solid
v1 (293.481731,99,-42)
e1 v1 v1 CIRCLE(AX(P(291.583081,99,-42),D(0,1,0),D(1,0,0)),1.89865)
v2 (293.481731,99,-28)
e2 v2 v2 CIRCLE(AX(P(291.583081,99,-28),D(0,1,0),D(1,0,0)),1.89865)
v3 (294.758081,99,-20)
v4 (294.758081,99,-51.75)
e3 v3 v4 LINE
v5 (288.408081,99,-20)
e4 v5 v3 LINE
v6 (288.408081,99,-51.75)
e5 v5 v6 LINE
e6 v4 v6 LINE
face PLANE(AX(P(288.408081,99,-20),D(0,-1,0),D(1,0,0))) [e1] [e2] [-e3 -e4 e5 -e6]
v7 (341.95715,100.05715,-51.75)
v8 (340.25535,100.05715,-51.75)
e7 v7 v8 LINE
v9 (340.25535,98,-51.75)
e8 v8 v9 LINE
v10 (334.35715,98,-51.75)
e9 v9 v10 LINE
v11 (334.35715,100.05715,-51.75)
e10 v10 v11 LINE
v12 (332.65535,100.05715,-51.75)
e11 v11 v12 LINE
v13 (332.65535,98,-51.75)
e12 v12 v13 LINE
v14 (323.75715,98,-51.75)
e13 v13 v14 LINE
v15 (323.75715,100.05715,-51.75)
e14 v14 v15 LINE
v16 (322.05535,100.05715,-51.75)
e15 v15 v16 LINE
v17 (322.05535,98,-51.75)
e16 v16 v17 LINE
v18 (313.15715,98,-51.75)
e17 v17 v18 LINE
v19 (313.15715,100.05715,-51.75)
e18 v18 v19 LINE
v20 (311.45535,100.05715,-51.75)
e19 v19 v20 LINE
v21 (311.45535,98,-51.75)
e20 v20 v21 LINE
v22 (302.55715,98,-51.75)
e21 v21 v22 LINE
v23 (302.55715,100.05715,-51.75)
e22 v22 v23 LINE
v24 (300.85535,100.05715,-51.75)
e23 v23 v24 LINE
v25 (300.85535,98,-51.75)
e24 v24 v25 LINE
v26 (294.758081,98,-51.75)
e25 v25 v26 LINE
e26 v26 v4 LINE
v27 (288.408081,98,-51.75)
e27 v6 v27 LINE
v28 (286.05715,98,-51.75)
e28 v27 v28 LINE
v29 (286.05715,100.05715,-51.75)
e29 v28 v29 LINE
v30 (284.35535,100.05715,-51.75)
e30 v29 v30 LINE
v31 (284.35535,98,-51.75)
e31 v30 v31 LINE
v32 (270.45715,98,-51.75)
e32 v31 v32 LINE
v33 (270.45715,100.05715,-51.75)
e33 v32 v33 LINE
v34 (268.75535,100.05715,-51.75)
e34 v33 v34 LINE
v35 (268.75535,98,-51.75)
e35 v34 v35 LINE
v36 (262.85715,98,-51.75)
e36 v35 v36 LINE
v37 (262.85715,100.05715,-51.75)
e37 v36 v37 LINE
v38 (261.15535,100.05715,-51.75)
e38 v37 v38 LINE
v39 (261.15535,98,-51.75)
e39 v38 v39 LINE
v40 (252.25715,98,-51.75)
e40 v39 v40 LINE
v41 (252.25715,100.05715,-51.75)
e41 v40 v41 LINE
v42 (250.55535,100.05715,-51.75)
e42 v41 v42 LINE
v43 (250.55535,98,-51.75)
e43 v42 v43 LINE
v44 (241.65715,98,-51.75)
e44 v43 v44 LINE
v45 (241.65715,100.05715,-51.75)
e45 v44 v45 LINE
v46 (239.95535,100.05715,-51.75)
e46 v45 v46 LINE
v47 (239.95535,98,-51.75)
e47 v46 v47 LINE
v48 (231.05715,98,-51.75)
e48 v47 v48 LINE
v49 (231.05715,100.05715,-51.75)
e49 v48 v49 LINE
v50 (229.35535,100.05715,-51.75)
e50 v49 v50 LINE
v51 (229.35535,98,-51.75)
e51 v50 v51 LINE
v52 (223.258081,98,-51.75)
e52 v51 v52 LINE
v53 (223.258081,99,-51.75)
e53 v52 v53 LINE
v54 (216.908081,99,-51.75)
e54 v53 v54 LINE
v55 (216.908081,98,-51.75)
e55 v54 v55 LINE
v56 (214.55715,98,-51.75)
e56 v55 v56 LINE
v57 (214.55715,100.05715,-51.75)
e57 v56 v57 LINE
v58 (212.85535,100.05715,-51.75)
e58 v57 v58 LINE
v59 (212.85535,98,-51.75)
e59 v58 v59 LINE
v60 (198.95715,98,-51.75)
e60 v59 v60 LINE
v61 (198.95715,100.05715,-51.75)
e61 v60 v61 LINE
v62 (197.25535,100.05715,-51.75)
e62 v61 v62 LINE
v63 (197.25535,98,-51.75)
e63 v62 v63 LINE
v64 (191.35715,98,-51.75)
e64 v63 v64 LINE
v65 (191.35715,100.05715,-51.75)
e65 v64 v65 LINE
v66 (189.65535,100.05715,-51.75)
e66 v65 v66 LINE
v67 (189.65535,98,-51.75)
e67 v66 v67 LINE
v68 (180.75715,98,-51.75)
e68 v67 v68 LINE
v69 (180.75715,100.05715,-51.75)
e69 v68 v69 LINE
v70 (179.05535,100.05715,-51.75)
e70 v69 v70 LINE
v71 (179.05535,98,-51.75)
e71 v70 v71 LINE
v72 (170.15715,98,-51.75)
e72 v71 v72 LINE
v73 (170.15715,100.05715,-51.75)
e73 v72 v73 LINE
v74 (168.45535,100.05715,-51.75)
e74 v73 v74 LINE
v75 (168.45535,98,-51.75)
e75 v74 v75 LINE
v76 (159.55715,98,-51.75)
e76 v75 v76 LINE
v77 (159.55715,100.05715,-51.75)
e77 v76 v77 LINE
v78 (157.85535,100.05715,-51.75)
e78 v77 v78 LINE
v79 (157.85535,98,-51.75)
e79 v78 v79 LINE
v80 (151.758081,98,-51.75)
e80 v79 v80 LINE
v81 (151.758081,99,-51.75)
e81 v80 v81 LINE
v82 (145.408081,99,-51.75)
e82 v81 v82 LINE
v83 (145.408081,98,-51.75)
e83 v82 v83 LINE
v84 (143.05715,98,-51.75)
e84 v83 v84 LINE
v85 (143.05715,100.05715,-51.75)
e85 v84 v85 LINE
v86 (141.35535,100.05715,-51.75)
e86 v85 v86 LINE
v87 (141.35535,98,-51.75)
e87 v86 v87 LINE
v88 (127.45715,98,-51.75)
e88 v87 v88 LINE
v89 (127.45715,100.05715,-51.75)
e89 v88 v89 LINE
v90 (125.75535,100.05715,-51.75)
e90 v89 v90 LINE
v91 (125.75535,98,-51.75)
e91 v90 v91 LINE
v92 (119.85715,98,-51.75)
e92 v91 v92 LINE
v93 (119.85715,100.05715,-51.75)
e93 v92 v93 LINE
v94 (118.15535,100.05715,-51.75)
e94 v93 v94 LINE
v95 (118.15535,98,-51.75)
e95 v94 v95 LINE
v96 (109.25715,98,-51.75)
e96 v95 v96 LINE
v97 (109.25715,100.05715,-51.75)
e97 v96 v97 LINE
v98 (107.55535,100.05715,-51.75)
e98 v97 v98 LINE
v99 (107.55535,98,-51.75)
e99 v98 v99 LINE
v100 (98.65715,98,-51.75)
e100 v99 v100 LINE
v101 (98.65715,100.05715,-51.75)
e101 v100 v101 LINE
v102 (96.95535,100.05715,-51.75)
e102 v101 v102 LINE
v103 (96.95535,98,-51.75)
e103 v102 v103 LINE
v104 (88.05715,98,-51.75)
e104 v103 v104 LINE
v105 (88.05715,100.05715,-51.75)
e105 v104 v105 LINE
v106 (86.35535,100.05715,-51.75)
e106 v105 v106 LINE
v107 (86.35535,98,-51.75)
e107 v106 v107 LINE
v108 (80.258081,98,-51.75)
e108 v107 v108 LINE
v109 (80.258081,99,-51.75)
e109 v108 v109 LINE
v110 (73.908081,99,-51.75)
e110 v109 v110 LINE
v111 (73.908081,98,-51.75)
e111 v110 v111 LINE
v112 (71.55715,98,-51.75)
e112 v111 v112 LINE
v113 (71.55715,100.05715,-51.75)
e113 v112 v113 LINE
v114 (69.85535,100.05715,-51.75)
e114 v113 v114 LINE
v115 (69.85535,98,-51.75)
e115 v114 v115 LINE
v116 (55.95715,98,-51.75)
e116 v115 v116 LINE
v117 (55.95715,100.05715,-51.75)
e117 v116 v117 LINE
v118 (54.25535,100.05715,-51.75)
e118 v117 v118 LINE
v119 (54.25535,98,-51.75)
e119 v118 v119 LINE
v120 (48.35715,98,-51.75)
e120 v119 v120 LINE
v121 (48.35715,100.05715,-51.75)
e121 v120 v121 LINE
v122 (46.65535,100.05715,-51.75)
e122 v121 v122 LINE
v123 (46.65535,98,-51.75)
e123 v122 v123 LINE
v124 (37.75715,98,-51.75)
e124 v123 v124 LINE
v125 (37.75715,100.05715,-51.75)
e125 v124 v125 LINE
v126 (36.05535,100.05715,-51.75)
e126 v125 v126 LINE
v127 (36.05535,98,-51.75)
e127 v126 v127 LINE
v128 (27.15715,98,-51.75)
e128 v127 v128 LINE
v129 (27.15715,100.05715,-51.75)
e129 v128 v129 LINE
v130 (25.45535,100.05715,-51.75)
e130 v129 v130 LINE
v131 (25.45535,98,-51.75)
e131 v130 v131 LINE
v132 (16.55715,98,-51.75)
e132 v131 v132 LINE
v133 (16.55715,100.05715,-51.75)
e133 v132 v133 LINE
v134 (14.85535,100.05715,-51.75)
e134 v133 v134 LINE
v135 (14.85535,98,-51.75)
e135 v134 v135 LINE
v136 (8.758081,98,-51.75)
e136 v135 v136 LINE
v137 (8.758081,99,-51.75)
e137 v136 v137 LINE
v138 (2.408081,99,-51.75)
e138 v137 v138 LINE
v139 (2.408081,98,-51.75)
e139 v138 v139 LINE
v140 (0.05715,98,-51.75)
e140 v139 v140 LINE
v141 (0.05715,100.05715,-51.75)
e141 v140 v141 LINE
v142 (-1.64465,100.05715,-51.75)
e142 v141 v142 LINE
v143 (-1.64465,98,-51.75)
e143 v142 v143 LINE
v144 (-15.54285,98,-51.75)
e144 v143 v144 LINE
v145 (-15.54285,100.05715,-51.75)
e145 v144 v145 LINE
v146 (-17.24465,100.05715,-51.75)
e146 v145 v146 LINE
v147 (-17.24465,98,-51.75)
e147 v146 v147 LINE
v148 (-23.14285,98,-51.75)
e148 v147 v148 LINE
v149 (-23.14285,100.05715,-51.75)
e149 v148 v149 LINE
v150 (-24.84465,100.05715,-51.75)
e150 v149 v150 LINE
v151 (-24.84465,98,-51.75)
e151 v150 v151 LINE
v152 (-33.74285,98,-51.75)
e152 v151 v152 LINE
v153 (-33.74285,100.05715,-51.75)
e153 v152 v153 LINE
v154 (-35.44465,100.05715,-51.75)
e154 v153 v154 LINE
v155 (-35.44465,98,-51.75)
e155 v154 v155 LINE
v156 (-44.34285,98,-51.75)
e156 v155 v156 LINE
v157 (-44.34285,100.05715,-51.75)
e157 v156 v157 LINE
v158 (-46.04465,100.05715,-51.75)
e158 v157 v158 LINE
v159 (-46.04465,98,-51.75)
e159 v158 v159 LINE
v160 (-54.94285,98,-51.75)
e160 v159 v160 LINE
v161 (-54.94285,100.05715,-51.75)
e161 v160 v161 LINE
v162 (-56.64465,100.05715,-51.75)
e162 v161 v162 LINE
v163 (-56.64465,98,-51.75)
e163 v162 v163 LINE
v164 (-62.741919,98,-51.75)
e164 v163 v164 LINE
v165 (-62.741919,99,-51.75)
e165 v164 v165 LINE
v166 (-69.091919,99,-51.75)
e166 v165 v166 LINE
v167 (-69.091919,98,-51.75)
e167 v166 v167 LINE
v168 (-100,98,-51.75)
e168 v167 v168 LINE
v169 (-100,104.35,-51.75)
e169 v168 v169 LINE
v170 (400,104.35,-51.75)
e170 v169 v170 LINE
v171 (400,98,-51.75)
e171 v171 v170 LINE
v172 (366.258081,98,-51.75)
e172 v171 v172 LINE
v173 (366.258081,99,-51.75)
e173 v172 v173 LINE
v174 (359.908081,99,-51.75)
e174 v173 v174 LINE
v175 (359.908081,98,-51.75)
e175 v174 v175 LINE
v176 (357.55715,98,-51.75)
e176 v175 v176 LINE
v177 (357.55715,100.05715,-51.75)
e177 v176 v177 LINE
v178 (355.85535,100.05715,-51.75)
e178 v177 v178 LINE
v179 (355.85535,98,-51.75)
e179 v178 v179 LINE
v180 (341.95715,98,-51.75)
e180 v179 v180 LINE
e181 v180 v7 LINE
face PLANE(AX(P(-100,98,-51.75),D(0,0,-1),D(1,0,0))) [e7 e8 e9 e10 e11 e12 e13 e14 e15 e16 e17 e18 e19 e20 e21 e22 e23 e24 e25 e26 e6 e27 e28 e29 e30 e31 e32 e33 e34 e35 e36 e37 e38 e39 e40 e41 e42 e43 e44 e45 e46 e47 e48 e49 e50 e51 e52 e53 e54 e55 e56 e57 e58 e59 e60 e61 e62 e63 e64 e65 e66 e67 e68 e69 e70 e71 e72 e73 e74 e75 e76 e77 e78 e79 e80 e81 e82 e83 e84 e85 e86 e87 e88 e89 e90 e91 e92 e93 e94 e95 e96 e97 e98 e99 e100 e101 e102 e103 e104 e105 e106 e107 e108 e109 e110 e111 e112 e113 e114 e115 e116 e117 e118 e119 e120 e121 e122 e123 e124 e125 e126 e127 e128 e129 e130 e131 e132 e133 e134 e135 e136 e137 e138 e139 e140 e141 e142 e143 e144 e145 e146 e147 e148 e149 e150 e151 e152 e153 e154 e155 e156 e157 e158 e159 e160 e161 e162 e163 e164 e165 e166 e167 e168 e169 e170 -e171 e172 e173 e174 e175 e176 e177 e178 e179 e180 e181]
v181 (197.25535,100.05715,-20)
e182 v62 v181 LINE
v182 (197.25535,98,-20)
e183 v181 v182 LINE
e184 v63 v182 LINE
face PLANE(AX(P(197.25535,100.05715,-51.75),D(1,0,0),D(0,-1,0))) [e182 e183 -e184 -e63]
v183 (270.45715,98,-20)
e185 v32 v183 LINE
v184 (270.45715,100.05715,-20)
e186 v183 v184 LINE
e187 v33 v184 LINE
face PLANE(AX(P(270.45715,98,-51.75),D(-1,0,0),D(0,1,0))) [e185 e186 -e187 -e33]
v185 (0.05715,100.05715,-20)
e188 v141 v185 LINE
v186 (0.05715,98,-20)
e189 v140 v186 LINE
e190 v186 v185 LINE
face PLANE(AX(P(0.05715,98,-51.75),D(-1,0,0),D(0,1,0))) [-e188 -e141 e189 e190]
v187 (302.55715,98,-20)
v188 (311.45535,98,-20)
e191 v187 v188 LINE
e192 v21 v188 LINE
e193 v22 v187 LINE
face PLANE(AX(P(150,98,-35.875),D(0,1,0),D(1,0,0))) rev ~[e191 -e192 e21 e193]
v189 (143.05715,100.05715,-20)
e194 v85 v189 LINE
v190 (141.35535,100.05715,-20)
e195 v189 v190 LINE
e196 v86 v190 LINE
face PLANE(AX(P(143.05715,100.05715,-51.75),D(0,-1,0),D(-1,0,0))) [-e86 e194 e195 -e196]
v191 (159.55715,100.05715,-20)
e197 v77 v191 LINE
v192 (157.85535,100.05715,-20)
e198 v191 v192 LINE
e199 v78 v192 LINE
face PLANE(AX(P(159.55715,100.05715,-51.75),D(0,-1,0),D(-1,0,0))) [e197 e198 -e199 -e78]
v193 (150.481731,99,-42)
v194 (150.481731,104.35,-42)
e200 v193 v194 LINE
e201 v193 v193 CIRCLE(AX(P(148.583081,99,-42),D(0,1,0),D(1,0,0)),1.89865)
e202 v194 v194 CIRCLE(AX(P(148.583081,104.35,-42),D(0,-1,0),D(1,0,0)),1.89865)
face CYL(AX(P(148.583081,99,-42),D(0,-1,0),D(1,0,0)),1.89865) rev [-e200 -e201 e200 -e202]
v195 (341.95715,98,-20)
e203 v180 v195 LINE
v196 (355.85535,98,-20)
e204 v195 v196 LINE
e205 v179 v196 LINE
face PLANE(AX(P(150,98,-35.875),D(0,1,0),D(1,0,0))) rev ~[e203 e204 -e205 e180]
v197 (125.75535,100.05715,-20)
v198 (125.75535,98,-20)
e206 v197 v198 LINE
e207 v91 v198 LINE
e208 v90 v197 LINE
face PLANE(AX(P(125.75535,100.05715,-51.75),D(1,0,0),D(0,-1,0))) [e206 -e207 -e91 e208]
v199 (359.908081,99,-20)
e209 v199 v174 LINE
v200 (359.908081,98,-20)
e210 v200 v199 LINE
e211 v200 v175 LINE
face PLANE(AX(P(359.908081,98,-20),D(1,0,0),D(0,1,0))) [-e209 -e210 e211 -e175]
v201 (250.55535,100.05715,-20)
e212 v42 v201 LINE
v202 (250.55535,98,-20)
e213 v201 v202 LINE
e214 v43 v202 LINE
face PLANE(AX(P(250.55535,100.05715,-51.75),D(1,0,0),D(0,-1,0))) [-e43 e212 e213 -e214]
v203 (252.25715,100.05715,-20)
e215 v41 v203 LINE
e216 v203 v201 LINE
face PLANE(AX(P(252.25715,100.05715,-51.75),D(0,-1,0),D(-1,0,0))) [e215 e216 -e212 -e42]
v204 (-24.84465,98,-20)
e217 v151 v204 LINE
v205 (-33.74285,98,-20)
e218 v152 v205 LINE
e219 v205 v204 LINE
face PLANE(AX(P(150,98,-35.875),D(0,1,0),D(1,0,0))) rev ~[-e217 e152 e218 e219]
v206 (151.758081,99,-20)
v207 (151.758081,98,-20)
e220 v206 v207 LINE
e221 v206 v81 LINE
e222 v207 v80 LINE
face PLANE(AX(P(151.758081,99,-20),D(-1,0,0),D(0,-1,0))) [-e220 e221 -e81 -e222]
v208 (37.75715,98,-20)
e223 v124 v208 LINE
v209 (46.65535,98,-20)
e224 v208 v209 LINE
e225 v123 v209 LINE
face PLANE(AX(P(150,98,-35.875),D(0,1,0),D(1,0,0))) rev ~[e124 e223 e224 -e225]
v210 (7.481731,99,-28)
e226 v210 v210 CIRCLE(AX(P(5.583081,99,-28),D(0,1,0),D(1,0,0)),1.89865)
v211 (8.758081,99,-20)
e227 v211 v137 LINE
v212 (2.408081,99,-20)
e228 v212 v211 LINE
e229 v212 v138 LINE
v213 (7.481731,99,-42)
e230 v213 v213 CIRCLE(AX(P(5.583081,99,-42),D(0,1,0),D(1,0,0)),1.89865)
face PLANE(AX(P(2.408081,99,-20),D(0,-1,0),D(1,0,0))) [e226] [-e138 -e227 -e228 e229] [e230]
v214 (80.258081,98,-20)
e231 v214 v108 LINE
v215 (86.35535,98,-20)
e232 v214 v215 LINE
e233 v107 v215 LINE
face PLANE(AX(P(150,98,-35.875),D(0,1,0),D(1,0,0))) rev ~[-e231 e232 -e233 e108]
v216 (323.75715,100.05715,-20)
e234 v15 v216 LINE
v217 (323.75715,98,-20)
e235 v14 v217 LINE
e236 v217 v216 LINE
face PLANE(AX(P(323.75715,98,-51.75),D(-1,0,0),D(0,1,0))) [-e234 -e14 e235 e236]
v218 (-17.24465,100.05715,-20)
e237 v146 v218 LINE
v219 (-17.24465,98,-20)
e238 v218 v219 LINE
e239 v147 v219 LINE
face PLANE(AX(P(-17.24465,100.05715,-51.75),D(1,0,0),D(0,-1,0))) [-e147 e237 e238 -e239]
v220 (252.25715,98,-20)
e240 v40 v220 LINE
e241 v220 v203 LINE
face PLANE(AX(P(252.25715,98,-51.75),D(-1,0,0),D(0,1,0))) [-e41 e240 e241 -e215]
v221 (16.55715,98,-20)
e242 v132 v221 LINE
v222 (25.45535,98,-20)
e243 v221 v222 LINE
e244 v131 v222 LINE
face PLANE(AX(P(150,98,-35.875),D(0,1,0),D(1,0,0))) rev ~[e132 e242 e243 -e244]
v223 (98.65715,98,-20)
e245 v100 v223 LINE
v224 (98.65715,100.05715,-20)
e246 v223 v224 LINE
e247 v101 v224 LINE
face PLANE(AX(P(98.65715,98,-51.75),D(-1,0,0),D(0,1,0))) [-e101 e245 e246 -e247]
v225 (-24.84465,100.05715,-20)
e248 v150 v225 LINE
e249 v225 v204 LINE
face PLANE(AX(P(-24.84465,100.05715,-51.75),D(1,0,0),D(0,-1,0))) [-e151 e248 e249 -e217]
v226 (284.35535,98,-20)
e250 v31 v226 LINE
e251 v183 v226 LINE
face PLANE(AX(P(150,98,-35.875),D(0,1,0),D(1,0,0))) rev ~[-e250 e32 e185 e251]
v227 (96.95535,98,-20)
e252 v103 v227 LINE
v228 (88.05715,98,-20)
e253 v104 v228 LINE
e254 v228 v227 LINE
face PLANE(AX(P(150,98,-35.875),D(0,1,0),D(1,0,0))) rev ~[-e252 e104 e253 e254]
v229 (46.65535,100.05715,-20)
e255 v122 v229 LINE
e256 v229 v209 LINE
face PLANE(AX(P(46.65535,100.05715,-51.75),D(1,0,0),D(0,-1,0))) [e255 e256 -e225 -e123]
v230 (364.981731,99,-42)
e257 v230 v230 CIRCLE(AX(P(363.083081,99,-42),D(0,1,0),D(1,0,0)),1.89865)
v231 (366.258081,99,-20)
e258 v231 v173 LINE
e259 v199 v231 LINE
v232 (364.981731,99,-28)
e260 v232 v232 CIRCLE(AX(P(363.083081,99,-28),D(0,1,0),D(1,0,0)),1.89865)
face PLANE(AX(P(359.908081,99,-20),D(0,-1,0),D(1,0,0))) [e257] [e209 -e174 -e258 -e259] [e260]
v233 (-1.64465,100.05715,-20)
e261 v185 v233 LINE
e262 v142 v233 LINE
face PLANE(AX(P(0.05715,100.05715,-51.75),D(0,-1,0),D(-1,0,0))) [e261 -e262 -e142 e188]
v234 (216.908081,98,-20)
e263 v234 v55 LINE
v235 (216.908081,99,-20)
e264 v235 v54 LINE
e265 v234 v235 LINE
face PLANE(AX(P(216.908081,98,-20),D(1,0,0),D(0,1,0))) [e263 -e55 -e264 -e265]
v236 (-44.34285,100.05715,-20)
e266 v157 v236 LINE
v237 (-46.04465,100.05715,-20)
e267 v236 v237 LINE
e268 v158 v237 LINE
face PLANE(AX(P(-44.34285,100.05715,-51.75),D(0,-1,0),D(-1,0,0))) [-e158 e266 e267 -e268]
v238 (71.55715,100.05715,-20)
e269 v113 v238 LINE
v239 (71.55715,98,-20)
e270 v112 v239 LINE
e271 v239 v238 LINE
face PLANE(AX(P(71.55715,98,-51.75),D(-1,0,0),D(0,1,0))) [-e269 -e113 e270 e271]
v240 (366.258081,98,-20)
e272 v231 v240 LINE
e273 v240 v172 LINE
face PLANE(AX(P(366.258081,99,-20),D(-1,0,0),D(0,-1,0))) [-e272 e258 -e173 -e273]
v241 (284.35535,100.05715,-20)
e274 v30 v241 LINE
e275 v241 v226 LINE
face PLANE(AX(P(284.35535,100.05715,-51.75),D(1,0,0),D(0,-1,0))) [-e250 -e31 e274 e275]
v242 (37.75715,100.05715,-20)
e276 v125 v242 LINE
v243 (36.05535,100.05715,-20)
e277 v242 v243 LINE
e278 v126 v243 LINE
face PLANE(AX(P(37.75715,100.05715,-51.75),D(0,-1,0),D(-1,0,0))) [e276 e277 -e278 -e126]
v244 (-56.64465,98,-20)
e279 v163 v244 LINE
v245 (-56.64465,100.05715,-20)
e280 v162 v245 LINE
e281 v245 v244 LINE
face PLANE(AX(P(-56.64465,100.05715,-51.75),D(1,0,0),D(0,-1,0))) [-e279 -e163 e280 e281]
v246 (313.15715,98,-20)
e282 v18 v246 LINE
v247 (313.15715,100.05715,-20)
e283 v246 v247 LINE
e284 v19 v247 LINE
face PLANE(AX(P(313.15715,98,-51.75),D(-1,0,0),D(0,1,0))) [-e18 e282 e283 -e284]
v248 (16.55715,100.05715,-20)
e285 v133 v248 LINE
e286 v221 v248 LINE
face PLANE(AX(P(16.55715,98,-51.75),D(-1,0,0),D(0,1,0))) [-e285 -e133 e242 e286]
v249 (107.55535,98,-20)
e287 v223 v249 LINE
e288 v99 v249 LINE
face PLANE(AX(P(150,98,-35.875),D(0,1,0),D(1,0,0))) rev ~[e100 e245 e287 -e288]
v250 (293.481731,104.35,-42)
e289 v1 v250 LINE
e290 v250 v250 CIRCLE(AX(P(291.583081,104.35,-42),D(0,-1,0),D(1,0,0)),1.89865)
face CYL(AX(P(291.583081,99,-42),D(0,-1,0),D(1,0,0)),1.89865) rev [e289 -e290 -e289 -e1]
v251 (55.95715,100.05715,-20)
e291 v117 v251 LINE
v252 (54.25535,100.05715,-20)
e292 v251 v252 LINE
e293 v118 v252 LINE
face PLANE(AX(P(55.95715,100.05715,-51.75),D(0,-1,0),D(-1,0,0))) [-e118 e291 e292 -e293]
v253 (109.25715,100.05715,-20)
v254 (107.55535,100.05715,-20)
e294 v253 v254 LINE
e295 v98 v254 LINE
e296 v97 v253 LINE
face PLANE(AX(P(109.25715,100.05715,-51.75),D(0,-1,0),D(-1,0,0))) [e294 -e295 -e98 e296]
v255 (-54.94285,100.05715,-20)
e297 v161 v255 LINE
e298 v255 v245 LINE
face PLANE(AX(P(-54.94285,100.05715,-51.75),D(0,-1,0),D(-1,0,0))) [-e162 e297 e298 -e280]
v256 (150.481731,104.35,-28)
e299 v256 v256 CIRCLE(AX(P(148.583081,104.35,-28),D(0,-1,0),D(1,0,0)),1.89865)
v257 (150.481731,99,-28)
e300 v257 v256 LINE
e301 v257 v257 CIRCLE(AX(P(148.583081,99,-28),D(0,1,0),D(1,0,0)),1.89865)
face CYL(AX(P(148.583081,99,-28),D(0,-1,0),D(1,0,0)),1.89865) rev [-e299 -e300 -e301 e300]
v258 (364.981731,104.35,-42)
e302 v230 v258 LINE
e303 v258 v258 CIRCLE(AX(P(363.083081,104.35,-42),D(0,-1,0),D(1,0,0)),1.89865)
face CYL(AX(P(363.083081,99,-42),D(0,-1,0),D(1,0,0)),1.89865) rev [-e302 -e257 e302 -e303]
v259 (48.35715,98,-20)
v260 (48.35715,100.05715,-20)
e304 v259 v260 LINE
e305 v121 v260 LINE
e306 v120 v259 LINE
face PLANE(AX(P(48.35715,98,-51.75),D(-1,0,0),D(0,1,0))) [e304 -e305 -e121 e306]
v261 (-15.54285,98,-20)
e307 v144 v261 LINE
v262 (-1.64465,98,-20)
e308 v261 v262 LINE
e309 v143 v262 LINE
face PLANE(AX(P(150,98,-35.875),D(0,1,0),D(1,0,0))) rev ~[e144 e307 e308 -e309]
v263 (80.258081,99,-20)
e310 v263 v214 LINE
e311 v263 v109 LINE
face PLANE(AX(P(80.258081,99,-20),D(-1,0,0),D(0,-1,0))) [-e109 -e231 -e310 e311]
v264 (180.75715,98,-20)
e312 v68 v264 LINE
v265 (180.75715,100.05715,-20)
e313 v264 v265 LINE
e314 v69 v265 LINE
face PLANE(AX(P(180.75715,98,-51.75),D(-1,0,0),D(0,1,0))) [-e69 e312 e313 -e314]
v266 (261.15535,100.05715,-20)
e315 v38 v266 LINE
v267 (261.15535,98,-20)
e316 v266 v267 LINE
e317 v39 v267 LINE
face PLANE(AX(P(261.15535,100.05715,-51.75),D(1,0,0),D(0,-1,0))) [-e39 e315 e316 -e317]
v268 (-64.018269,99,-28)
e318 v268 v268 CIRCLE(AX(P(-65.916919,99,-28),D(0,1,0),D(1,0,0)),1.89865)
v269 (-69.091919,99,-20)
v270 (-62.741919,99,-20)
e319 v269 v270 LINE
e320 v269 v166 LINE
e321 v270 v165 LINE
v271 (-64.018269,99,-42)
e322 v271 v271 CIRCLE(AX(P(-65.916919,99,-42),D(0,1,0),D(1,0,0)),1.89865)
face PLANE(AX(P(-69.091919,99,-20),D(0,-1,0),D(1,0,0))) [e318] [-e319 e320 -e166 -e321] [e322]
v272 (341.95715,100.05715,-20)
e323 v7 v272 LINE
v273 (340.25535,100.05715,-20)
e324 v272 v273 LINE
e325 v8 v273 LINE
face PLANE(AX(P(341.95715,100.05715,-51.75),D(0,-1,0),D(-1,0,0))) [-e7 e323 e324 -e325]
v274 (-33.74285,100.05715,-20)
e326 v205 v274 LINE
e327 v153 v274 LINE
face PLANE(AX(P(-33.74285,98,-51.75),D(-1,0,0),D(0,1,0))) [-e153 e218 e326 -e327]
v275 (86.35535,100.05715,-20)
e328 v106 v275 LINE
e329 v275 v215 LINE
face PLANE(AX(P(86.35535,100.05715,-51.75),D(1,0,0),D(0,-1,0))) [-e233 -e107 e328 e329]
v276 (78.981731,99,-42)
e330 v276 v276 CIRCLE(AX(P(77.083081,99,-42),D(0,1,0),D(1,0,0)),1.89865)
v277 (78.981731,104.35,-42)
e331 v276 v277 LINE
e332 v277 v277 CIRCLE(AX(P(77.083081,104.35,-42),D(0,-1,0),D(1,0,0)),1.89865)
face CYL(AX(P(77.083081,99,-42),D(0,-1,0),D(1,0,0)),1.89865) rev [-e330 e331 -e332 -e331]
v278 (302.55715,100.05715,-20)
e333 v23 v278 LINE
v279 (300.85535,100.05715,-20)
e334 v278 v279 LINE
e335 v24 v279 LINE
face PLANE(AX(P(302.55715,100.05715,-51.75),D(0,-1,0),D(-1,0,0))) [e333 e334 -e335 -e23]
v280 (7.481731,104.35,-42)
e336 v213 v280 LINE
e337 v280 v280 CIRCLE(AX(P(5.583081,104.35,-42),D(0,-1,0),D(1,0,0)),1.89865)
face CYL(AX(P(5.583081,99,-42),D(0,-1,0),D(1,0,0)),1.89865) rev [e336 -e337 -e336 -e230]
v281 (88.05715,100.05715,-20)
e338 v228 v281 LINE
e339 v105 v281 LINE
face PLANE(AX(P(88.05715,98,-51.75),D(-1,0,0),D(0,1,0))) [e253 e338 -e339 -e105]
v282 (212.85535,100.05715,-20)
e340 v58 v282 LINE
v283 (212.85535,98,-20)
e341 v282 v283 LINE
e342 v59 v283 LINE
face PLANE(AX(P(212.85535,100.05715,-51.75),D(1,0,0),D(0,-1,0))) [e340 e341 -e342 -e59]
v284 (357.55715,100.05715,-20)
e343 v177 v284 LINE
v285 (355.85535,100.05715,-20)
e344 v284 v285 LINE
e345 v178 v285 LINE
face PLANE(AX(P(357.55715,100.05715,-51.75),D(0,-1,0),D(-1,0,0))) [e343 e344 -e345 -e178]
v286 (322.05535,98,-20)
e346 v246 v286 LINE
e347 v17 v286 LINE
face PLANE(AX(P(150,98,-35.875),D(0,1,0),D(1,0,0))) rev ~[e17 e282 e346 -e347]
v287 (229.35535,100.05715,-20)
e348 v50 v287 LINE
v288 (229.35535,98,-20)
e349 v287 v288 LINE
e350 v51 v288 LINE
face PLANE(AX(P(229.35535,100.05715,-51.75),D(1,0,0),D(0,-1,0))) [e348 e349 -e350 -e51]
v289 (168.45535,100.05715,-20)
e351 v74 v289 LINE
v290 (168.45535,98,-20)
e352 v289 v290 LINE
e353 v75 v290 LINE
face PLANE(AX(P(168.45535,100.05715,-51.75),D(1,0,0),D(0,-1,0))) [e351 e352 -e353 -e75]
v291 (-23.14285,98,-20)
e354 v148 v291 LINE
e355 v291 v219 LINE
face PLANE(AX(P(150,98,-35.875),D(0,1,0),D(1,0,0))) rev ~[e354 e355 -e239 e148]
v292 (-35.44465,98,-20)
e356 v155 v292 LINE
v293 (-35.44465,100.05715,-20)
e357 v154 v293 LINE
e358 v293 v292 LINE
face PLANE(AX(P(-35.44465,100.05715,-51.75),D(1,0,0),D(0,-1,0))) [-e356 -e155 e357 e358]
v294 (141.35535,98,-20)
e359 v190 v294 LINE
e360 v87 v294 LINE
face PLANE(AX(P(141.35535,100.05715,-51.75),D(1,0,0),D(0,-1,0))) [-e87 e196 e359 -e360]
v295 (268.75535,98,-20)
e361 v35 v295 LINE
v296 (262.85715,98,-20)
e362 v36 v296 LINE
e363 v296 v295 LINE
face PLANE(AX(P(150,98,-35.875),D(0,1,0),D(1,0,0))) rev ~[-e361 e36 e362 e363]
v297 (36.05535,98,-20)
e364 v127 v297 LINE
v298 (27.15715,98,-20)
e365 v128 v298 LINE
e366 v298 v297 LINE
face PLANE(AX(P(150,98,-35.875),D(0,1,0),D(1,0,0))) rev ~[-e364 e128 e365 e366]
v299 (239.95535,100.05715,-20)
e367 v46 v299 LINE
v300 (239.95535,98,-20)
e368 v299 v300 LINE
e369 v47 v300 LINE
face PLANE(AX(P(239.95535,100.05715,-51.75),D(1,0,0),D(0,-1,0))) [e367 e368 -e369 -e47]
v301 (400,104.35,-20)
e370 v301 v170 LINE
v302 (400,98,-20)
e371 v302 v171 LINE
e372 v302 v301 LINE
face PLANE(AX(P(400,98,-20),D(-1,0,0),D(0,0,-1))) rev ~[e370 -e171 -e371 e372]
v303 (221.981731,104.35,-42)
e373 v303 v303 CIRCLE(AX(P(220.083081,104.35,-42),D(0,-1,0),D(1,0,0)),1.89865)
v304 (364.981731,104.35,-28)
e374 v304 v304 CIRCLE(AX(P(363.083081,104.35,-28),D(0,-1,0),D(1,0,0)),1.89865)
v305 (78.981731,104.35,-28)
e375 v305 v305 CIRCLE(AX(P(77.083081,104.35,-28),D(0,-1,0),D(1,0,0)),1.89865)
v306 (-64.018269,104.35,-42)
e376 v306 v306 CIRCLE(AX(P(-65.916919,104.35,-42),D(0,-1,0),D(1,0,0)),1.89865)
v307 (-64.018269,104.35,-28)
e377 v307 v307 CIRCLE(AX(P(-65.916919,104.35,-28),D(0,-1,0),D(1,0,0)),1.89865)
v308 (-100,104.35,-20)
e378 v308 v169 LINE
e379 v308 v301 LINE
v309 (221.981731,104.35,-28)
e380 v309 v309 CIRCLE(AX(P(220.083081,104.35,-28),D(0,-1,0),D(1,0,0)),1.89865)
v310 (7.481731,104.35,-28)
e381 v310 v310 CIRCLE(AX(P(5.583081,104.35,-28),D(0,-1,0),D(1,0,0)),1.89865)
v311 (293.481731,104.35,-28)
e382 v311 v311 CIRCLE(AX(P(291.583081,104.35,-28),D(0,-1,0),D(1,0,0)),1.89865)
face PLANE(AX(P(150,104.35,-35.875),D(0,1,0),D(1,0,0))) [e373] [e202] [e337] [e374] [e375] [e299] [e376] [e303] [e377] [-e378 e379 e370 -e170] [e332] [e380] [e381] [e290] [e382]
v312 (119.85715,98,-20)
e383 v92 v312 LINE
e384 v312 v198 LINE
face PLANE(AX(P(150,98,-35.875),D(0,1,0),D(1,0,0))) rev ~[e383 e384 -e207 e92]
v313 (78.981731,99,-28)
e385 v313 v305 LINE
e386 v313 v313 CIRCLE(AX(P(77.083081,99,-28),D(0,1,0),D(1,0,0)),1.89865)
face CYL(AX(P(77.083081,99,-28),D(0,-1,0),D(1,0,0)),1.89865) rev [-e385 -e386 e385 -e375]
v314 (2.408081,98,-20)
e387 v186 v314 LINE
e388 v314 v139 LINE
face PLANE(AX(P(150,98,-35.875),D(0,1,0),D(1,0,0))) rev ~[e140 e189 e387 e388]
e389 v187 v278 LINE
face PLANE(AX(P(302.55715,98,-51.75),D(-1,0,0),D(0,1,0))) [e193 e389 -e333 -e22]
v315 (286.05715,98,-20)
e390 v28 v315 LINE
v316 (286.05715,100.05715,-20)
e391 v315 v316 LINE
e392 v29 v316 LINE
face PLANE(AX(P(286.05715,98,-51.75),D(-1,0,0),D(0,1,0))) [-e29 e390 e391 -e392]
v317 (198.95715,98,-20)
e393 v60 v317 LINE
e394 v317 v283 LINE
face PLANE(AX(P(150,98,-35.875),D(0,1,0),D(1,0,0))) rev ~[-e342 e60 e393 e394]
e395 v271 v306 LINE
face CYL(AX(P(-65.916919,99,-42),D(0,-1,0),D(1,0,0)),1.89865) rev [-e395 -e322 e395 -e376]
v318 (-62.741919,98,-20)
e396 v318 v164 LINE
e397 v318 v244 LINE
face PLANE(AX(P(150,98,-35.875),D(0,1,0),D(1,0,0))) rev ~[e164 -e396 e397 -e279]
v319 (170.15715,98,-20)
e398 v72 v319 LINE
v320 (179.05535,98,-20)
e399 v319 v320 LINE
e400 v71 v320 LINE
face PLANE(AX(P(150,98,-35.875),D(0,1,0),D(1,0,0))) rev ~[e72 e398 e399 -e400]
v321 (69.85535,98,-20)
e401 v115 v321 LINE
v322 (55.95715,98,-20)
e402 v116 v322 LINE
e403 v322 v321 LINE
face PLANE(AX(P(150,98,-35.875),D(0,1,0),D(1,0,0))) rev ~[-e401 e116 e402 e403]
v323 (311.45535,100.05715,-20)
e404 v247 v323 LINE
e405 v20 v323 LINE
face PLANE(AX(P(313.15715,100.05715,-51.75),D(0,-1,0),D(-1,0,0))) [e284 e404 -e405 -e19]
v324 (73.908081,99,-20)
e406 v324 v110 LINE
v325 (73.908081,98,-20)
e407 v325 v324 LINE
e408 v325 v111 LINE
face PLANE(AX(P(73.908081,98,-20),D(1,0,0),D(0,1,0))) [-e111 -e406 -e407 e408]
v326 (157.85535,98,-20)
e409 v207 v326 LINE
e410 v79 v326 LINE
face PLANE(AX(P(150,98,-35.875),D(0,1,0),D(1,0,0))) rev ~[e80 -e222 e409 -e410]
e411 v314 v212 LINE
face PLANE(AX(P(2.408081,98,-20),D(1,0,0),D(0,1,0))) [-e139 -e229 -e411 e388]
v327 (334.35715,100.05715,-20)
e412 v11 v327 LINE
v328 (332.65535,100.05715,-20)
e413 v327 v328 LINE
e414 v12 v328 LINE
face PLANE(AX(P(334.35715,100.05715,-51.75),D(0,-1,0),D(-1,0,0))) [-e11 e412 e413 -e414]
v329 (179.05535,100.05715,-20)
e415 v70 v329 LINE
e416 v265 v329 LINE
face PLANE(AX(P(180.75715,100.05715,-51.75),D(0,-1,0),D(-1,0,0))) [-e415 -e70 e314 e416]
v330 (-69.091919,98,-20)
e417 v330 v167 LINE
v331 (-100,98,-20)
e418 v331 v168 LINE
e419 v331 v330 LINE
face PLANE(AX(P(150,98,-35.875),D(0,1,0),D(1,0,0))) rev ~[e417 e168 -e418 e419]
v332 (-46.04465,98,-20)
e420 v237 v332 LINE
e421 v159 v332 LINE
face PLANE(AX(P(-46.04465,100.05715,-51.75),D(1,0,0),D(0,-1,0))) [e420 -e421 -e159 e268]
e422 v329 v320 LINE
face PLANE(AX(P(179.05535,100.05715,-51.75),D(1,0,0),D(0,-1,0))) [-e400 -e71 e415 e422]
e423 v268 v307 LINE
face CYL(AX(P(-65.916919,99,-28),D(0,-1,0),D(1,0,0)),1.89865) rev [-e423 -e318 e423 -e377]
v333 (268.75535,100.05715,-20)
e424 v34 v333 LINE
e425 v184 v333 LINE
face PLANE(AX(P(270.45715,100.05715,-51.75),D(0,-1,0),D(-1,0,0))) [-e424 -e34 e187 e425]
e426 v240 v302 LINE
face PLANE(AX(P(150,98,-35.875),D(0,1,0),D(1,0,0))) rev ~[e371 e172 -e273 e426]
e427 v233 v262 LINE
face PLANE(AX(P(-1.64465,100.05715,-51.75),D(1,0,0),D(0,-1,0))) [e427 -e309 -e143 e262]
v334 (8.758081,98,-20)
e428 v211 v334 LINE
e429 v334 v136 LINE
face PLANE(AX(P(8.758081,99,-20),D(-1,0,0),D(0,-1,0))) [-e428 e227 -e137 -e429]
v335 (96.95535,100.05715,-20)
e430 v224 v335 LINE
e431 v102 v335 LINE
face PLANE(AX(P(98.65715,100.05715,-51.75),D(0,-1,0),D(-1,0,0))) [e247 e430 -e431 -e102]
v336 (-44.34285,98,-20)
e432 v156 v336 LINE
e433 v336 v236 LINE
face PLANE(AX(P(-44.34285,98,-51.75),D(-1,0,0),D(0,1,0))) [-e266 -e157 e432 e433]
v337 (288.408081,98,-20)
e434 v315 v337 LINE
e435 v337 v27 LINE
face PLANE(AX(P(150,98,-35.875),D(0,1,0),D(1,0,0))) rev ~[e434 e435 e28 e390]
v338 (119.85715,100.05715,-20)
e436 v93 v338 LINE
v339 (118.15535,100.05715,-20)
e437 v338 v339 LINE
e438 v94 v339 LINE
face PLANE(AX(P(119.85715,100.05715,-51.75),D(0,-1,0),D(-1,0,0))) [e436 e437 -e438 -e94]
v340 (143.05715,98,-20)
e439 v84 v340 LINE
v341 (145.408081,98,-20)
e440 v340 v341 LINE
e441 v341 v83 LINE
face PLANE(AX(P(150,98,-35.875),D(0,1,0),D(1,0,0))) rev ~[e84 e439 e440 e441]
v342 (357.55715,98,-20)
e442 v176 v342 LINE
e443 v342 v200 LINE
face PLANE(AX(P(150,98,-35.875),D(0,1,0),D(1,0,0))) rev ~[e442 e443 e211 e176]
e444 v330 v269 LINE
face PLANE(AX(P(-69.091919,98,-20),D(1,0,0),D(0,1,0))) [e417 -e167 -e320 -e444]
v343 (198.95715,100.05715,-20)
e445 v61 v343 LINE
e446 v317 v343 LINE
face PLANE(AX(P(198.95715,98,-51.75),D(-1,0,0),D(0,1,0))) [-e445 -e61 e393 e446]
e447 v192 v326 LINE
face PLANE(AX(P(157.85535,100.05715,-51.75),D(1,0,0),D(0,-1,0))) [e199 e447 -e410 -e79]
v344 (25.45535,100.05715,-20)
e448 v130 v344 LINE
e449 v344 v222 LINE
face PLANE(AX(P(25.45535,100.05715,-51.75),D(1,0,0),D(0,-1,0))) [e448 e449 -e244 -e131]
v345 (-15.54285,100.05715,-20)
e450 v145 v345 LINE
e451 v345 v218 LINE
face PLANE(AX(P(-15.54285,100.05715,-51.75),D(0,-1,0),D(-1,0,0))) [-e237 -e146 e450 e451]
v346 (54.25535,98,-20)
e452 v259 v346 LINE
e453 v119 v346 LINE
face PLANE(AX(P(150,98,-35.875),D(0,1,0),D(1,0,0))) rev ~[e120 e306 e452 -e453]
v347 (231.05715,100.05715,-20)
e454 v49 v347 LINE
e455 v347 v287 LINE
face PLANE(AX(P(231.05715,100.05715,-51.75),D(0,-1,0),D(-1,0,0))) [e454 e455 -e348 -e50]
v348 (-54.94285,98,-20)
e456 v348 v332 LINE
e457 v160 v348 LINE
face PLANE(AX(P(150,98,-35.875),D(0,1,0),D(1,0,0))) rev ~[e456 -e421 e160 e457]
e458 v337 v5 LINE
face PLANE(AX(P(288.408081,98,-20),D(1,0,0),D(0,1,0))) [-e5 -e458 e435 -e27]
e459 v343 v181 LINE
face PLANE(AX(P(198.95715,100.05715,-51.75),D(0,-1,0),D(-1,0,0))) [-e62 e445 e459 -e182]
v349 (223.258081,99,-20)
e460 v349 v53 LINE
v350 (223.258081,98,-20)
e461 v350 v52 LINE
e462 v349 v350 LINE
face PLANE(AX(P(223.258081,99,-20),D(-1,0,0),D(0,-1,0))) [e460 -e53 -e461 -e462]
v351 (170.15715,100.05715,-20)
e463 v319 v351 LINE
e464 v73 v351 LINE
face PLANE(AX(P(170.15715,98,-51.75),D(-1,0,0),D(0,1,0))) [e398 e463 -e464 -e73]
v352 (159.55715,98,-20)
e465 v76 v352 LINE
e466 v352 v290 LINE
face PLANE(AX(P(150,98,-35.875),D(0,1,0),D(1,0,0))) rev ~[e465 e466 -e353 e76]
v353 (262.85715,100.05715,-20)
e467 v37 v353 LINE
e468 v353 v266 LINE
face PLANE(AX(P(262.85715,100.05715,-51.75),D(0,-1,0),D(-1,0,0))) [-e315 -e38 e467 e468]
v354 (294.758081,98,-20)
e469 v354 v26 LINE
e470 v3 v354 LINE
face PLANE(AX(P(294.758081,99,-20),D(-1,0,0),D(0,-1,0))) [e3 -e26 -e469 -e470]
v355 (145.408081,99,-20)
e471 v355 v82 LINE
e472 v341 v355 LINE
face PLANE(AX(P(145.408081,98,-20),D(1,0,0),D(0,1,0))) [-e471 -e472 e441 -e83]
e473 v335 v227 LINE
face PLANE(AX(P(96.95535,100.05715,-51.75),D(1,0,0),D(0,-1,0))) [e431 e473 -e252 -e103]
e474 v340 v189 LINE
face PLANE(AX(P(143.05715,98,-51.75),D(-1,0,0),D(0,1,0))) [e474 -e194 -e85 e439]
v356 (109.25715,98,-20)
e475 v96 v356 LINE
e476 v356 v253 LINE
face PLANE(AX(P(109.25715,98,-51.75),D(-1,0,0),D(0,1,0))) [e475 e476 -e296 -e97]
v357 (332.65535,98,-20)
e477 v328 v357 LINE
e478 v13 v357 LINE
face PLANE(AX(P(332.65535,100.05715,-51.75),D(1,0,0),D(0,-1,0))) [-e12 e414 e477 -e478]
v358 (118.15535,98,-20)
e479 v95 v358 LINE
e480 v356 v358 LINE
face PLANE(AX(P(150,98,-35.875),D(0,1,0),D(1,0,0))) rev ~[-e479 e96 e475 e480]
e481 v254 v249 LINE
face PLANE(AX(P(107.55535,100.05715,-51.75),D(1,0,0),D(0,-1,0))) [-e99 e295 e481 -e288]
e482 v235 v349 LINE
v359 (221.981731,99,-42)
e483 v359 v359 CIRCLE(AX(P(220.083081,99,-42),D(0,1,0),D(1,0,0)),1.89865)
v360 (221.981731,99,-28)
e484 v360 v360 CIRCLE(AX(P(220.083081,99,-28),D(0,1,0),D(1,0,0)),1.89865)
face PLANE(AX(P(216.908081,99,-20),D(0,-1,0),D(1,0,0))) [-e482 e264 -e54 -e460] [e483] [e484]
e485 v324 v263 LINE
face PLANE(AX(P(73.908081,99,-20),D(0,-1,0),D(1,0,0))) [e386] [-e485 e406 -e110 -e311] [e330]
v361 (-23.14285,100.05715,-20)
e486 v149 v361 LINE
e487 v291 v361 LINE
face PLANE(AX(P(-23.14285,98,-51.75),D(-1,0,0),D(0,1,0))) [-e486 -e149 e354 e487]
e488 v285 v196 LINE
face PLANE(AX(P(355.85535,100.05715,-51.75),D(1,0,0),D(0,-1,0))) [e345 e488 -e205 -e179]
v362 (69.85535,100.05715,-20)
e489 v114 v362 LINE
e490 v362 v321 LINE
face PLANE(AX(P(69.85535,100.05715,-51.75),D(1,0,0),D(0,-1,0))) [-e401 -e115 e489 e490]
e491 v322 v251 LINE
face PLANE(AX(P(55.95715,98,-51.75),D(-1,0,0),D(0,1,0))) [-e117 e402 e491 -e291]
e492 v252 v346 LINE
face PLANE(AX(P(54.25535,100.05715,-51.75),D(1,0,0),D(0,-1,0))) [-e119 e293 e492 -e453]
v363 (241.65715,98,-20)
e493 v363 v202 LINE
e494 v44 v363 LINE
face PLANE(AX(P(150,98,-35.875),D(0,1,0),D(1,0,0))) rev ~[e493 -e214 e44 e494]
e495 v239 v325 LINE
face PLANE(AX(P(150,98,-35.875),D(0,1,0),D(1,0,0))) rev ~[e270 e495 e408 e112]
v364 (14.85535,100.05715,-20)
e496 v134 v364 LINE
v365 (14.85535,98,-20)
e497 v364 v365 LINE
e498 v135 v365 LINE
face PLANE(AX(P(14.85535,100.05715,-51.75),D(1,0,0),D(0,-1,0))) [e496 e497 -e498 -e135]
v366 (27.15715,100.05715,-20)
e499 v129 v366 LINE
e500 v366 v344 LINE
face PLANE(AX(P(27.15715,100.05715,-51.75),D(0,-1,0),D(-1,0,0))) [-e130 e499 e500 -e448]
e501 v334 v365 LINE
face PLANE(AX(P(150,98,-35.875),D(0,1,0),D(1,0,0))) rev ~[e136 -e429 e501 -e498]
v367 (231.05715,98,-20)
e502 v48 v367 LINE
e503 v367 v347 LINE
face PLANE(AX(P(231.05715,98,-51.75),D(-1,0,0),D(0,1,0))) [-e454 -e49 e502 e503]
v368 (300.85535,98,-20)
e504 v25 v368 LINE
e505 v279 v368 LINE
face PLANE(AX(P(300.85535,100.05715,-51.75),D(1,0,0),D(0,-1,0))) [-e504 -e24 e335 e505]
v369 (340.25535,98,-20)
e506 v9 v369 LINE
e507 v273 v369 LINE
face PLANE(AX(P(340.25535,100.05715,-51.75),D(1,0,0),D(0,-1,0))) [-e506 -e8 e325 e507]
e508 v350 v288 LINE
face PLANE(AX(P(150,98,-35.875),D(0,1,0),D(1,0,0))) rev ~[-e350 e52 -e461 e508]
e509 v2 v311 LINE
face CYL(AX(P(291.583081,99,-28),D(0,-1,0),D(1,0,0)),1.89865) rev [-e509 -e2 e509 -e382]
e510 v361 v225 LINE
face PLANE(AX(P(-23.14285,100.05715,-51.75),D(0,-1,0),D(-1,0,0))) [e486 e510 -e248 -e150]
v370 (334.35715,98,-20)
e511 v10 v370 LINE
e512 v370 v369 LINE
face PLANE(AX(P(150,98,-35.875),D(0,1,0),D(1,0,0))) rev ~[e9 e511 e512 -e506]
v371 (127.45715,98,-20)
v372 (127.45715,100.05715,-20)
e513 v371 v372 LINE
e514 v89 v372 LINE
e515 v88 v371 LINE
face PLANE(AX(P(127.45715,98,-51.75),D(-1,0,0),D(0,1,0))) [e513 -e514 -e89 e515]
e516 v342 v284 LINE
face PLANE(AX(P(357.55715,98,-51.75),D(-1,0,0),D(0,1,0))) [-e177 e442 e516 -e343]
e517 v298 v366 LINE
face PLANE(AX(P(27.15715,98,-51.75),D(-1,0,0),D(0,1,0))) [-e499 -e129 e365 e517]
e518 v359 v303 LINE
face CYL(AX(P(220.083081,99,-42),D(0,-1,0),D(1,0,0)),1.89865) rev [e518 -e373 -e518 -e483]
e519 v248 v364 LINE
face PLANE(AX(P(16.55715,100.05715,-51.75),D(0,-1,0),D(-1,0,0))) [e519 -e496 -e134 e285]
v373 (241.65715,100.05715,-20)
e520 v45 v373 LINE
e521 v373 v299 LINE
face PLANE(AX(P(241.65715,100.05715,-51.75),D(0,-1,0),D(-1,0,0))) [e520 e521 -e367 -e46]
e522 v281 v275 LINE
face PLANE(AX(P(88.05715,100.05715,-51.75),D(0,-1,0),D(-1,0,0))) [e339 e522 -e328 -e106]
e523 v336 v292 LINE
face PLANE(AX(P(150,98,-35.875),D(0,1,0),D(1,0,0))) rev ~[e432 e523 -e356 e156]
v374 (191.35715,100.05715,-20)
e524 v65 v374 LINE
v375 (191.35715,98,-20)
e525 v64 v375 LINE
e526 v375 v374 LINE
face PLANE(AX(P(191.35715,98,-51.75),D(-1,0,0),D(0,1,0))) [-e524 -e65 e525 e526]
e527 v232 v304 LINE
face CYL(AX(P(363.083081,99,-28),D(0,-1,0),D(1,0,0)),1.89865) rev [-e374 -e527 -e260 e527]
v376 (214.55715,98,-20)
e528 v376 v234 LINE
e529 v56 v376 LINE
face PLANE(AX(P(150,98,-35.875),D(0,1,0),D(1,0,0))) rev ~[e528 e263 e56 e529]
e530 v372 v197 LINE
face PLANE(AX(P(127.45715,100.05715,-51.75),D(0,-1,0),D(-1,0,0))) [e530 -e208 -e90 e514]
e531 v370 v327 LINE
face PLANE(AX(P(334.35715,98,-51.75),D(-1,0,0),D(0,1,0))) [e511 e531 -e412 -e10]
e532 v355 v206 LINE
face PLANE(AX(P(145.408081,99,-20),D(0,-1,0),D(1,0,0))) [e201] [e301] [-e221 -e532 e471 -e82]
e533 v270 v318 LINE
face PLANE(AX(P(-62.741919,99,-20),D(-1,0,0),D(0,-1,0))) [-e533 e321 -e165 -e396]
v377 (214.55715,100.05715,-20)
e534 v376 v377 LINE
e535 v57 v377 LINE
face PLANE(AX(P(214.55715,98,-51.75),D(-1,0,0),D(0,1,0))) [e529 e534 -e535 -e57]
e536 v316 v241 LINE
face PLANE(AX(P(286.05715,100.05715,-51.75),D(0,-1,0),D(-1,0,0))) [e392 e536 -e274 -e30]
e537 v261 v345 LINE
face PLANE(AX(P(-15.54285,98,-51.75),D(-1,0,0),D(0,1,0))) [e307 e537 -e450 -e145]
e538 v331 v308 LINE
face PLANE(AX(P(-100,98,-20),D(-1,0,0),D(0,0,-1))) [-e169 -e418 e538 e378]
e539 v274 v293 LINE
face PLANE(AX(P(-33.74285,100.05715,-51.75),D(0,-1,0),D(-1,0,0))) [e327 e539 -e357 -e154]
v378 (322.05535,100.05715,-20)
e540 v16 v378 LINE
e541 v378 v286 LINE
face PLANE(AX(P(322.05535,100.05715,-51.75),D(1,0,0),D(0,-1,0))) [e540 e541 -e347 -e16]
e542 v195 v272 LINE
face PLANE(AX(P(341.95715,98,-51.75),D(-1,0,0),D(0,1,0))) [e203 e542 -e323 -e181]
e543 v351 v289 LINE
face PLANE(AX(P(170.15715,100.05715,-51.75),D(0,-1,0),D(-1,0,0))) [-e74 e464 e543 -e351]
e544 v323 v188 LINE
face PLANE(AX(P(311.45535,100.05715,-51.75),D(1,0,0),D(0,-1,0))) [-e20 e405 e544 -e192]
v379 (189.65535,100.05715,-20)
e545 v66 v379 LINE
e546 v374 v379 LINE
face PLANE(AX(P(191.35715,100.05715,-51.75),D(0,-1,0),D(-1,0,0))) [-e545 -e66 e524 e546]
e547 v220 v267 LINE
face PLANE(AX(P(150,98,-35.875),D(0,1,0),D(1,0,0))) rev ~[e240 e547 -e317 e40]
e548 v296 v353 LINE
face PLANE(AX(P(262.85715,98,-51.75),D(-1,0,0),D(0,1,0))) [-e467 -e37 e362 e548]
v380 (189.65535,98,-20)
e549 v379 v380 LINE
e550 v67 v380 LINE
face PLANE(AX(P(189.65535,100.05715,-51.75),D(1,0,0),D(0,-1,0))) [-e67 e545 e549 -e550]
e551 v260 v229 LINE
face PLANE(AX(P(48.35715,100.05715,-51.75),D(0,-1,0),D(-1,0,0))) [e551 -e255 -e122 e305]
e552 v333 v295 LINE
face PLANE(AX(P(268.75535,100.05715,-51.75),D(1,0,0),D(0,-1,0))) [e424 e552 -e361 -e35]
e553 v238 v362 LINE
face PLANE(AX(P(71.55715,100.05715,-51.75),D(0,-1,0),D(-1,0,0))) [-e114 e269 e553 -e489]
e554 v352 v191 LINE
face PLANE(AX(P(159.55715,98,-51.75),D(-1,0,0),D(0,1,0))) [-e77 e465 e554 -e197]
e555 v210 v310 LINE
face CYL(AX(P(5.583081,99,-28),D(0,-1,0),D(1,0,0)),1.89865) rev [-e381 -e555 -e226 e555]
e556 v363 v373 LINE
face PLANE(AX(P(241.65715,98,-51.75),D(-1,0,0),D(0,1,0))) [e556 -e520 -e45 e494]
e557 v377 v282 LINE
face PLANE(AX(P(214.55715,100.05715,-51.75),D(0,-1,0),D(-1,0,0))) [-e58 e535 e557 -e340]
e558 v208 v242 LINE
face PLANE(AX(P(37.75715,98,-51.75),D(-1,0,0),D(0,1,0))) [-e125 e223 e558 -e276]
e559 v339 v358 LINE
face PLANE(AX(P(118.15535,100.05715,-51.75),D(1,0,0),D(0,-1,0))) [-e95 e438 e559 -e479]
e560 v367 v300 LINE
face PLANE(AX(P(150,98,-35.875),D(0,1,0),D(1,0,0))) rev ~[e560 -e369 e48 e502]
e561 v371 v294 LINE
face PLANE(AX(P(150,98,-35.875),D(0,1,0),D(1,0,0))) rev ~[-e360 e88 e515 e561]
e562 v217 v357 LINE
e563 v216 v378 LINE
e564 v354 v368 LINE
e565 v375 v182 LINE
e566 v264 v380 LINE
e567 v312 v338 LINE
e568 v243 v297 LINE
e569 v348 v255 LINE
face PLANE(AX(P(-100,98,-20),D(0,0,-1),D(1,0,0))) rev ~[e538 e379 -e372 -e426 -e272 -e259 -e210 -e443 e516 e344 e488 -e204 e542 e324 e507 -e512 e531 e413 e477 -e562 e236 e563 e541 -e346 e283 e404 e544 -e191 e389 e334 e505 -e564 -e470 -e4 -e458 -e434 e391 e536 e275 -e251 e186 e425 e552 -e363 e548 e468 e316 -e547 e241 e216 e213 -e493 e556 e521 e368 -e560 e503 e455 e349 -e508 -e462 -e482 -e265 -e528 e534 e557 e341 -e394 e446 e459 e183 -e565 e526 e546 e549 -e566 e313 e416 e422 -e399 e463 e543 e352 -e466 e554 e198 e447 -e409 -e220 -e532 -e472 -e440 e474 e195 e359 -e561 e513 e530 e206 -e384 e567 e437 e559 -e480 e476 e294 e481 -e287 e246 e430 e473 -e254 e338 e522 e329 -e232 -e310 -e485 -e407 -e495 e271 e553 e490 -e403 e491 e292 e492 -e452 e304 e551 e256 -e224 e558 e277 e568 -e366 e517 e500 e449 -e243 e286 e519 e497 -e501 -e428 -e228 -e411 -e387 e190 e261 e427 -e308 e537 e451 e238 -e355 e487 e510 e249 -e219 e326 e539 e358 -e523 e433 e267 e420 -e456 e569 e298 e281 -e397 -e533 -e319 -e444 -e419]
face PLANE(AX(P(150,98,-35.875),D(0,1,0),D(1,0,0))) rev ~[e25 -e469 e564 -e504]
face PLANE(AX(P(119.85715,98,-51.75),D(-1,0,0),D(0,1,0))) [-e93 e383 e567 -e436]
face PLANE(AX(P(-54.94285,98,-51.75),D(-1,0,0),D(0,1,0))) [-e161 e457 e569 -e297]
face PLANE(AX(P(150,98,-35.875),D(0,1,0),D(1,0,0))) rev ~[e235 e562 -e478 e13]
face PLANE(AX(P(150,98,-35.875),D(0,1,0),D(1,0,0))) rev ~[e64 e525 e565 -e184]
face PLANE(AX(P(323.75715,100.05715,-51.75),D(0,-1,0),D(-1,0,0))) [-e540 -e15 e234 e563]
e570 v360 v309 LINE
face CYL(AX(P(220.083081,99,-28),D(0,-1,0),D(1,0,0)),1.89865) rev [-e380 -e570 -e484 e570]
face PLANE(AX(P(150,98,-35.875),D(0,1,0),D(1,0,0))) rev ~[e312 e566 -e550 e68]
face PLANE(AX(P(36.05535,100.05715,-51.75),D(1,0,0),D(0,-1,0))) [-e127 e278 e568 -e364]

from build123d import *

# Parameters (mm, degrees)
SKETCH2_W           = 500
SKETCH2_H           = 31.75
BOSS_EXTRUDE1_DEPTH = 6.35
CUT_EXTRUDE2_DEPTH  = 32.75
CUT_EXTRUDE4_DEPTH  = 32.75
SKETCH6_R           = 1.89865
CUT_EXTRUDE3_DEPTH  = 6.35


with BuildPart() as part:
    # Sketch2 → Boss-Extrude1 (new body)
    with BuildSketch(Plane(origin=(0, 98, 0), x_dir=(1, 0, 0), z_dir=(0, 1, 0))):
        with Locations((150, 35.875)):
            Rectangle(SKETCH2_W, SKETCH2_H)
    extrude(amount=BOSS_EXTRUDE1_DEPTH)

    # Sketch5 → Cut-Extrude2 (cut, through all)
    with BuildSketch(Plane(origin=(0, 0, -51.75), x_dir=(-1, 0, 0), z_dir=(0, 0, -1))):
        Polygon((-357.55715, 98), (-357.55715, 100.05715), (-355.85535, 100.05715), (-355.85535, 98), (-341.95715, 98), (-341.95715, 100.05715), (-340.25535, 100.05715), (-340.25535, 98), (-334.35715, 98), (-334.35715, 100.05715), (-332.65535, 100.05715), (-332.65535, 98), (-323.75715, 98), (-323.75715, 100.05715), (-322.05535, 100.05715), (-322.05535, 98), (-313.15715, 98), (-313.15715, 100.05715), (-311.45535, 100.05715), (-311.45535, 98), (-302.55715, 98), (-302.55715, 100.05715), (-300.85535, 100.05715), (-300.85535, 98), (-295.78949815, 98), (-295.78949815, 96.633226224), (-359.074689679, 96.633226224), (-359.074689679, 98), align=None)
        Polygon((-286.05715, 98), (-286.05715, 100.05715), (-284.35535, 100.05715), (-284.35535, 98), (-270.45715, 98), (-270.45715, 100.05715), (-268.75535, 100.05715), (-268.75535, 98), (-262.85715, 98), (-262.85715, 100.05715), (-261.15535, 100.05715), (-261.15535, 98), (-252.25715, 98), (-252.25715, 100.05715), (-250.55535, 100.05715), (-250.55535, 98), (-241.65715, 98), (-241.65715, 100.05715), (-239.95535, 100.05715), (-239.95535, 98), (-231.05715, 98), (-231.05715, 100.05715), (-229.35535, 100.05715), (-229.35535, 98), (-224.28949815, 98), (-224.28949815, 96.633226224), (-287.574689679, 96.633226224), (-287.574689679, 98), align=None)
        Polygon((-214.55715, 98), (-214.55715, 100.05715), (-212.85535, 100.05715), (-212.85535, 98), (-198.95715, 98), (-198.95715, 100.05715), (-197.25535, 100.05715), (-197.25535, 98), (-191.35715, 98), (-191.35715, 100.05715), (-189.65535, 100.05715), (-189.65535, 98), (-180.75715, 98), (-180.75715, 100.05715), (-179.05535, 100.05715), (-179.05535, 98), (-170.15715, 98), (-170.15715, 100.05715), (-168.45535, 100.05715), (-168.45535, 98), (-159.55715, 98), (-159.55715, 100.05715), (-157.85535, 100.05715), (-157.85535, 98), (-152.78949815, 98), (-152.78949815, 96.633226224), (-216.074689679, 96.633226224), (-216.074689679, 98), align=None)
        Polygon((-143.05715, 98), (-143.05715, 100.05715), (-141.35535, 100.05715), (-141.35535, 98), (-127.45715, 98), (-127.45715, 100.05715), (-125.75535, 100.05715), (-125.75535, 98), (-119.85715, 98), (-119.85715, 100.05715), (-118.15535, 100.05715), (-118.15535, 98), (-109.25715, 98), (-109.25715, 100.05715), (-107.55535, 100.05715), (-107.55535, 98), (-98.65715, 98), (-98.65715, 100.05715), (-96.95535, 100.05715), (-96.95535, 98), (-88.05715, 98), (-88.05715, 100.05715), (-86.35535, 100.05715), (-86.35535, 98), (-81.28949815, 98), (-81.28949815, 96.633226224), (-144.574689679, 96.633226224), (-144.574689679, 98), align=None)
        Polygon((-71.55715, 98), (-71.55715, 100.05715), (-69.85535, 100.05715), (-69.85535, 98), (-55.95715, 98), (-55.95715, 100.05715), (-54.25535, 100.05715), (-54.25535, 98), (-48.35715, 98), (-48.35715, 100.05715), (-46.65535, 100.05715), (-46.65535, 98), (-37.75715, 98), (-37.75715, 100.05715), (-36.05535, 100.05715), (-36.05535, 98), (-27.15715, 98), (-27.15715, 100.05715), (-25.45535, 100.05715), (-25.45535, 98), (-16.55715, 98), (-16.55715, 100.05715), (-14.85535, 100.05715), (-14.85535, 98), (-9.78949815, 98), (-9.78949815, 96.633226224), (-73.074689679, 96.633226224), (-73.074689679, 98), align=None)
        Polygon((-0.05715, 98), (-0.05715, 100.05715), (1.64465, 100.05715), (1.64465, 98), (15.54285, 98), (15.54285, 100.05715), (17.24465, 100.05715), (17.24465, 98), (23.14285, 98), (23.14285, 100.05715), (24.84465, 100.05715), (24.84465, 98), (33.74285, 98), (33.74285, 100.05715), (35.44465, 100.05715), (35.44465, 98), (44.34285, 98), (44.34285, 100.05715), (46.04465, 100.05715), (46.04465, 98), (54.94285, 98), (54.94285, 100.05715), (56.64465, 100.05715), (56.64465, 98), (61.71050185, 98), (61.71050185, 96.633226224), (-1.574689679, 96.633226224), (-1.574689679, 98), align=None)
    extrude(amount=-CUT_EXTRUDE2_DEPTH, mode=Mode.SUBTRACT)

    # Sketch7 → Cut-Extrude4 (cut, through all)
    with BuildSketch(Plane.XY.offset(-20)):
        Polygon((-70.246654546, 98), (-69.091918949, 98), (-69.091918949, 99), (-62.741918949, 99), (-62.741918949, 98), (-61.77474032, 98), (-61.77474032, 96.833570425), (-70.246654546, 96.833570425), align=None)
        Polygon((1.253345454, 98), (2.408081051, 98), (2.408081051, 99), (8.758081051, 99), (8.758081051, 98), (9.72525968, 98), (9.72525968, 96.833570425), (1.253345454, 96.833570425), align=None)
        Polygon((72.753345454, 98), (73.908081051, 98), (73.908081051, 99), (80.258081051, 99), (80.258081051, 98), (81.22525968, 98), (81.22525968, 96.833570425), (72.753345454, 96.833570425), align=None)
        Polygon((144.253345454, 98), (145.408081051, 98), (145.408081051, 99), (151.758081051, 99), (151.758081051, 98), (152.72525968, 98), (152.72525968, 96.833570425), (144.253345454, 96.833570425), align=None)
        Polygon((215.753345454, 98), (216.908081051, 98), (216.908081051, 99), (223.258081051, 99), (223.258081051, 98), (224.22525968, 98), (224.22525968, 96.833570425), (215.753345454, 96.833570425), align=None)
        Polygon((287.253345454, 98), (288.408081051, 98), (288.408081051, 99), (294.758081051, 99), (294.758081051, 98), (295.72525968, 98), (295.72525968, 96.833570425), (287.253345454, 96.833570425), align=None)
        Polygon((358.753345454, 98), (359.908081051, 98), (359.908081051, 99), (366.258081051, 99), (366.258081051, 98), (367.22525968, 98), (367.22525968, 96.833570425), (358.753345454, 96.833570425), align=None)
    extrude(amount=-CUT_EXTRUDE4_DEPTH, mode=Mode.SUBTRACT)

    # Sketch6 → Cut-Extrude3 (cut, through all)
    with BuildSketch(Plane(origin=(0, 99, 0), x_dir=(1, 0, 0), z_dir=(0, 1, 0))):
        with Locations((-65.916918949, 28)):
            Circle(SKETCH6_R)
        with Locations((-65.916918949, 42)):
            Circle(SKETCH6_R)
        with Locations((5.583081051, 28)):
            Circle(SKETCH6_R)
        with Locations((5.583081051, 42)):
            Circle(SKETCH6_R)
        with Locations((77.083081051, 28)):
            Circle(SKETCH6_R)
        with Locations((77.083081051, 42)):
            Circle(SKETCH6_R)
        with Locations((148.583081051, 28)):
            Circle(SKETCH6_R)
        with Locations((148.583081051, 42)):
            Circle(SKETCH6_R)
        with Locations((220.083081051, 28)):
            Circle(SKETCH6_R)
        with Locations((220.083081051, 42)):
            Circle(SKETCH6_R)
        with Locations((291.583081051, 28)):
            Circle(SKETCH6_R)
        with Locations((291.583081051, 42)):
            Circle(SKETCH6_R)
        with Locations((363.083081051, 28)):
            Circle(SKETCH6_R)
        with Locations((363.083081051, 42)):
            Circle(SKETCH6_R)
    extrude(amount=CUT_EXTRUDE3_DEPTH, mode=Mode.SUBTRACT)


solid = part.part
